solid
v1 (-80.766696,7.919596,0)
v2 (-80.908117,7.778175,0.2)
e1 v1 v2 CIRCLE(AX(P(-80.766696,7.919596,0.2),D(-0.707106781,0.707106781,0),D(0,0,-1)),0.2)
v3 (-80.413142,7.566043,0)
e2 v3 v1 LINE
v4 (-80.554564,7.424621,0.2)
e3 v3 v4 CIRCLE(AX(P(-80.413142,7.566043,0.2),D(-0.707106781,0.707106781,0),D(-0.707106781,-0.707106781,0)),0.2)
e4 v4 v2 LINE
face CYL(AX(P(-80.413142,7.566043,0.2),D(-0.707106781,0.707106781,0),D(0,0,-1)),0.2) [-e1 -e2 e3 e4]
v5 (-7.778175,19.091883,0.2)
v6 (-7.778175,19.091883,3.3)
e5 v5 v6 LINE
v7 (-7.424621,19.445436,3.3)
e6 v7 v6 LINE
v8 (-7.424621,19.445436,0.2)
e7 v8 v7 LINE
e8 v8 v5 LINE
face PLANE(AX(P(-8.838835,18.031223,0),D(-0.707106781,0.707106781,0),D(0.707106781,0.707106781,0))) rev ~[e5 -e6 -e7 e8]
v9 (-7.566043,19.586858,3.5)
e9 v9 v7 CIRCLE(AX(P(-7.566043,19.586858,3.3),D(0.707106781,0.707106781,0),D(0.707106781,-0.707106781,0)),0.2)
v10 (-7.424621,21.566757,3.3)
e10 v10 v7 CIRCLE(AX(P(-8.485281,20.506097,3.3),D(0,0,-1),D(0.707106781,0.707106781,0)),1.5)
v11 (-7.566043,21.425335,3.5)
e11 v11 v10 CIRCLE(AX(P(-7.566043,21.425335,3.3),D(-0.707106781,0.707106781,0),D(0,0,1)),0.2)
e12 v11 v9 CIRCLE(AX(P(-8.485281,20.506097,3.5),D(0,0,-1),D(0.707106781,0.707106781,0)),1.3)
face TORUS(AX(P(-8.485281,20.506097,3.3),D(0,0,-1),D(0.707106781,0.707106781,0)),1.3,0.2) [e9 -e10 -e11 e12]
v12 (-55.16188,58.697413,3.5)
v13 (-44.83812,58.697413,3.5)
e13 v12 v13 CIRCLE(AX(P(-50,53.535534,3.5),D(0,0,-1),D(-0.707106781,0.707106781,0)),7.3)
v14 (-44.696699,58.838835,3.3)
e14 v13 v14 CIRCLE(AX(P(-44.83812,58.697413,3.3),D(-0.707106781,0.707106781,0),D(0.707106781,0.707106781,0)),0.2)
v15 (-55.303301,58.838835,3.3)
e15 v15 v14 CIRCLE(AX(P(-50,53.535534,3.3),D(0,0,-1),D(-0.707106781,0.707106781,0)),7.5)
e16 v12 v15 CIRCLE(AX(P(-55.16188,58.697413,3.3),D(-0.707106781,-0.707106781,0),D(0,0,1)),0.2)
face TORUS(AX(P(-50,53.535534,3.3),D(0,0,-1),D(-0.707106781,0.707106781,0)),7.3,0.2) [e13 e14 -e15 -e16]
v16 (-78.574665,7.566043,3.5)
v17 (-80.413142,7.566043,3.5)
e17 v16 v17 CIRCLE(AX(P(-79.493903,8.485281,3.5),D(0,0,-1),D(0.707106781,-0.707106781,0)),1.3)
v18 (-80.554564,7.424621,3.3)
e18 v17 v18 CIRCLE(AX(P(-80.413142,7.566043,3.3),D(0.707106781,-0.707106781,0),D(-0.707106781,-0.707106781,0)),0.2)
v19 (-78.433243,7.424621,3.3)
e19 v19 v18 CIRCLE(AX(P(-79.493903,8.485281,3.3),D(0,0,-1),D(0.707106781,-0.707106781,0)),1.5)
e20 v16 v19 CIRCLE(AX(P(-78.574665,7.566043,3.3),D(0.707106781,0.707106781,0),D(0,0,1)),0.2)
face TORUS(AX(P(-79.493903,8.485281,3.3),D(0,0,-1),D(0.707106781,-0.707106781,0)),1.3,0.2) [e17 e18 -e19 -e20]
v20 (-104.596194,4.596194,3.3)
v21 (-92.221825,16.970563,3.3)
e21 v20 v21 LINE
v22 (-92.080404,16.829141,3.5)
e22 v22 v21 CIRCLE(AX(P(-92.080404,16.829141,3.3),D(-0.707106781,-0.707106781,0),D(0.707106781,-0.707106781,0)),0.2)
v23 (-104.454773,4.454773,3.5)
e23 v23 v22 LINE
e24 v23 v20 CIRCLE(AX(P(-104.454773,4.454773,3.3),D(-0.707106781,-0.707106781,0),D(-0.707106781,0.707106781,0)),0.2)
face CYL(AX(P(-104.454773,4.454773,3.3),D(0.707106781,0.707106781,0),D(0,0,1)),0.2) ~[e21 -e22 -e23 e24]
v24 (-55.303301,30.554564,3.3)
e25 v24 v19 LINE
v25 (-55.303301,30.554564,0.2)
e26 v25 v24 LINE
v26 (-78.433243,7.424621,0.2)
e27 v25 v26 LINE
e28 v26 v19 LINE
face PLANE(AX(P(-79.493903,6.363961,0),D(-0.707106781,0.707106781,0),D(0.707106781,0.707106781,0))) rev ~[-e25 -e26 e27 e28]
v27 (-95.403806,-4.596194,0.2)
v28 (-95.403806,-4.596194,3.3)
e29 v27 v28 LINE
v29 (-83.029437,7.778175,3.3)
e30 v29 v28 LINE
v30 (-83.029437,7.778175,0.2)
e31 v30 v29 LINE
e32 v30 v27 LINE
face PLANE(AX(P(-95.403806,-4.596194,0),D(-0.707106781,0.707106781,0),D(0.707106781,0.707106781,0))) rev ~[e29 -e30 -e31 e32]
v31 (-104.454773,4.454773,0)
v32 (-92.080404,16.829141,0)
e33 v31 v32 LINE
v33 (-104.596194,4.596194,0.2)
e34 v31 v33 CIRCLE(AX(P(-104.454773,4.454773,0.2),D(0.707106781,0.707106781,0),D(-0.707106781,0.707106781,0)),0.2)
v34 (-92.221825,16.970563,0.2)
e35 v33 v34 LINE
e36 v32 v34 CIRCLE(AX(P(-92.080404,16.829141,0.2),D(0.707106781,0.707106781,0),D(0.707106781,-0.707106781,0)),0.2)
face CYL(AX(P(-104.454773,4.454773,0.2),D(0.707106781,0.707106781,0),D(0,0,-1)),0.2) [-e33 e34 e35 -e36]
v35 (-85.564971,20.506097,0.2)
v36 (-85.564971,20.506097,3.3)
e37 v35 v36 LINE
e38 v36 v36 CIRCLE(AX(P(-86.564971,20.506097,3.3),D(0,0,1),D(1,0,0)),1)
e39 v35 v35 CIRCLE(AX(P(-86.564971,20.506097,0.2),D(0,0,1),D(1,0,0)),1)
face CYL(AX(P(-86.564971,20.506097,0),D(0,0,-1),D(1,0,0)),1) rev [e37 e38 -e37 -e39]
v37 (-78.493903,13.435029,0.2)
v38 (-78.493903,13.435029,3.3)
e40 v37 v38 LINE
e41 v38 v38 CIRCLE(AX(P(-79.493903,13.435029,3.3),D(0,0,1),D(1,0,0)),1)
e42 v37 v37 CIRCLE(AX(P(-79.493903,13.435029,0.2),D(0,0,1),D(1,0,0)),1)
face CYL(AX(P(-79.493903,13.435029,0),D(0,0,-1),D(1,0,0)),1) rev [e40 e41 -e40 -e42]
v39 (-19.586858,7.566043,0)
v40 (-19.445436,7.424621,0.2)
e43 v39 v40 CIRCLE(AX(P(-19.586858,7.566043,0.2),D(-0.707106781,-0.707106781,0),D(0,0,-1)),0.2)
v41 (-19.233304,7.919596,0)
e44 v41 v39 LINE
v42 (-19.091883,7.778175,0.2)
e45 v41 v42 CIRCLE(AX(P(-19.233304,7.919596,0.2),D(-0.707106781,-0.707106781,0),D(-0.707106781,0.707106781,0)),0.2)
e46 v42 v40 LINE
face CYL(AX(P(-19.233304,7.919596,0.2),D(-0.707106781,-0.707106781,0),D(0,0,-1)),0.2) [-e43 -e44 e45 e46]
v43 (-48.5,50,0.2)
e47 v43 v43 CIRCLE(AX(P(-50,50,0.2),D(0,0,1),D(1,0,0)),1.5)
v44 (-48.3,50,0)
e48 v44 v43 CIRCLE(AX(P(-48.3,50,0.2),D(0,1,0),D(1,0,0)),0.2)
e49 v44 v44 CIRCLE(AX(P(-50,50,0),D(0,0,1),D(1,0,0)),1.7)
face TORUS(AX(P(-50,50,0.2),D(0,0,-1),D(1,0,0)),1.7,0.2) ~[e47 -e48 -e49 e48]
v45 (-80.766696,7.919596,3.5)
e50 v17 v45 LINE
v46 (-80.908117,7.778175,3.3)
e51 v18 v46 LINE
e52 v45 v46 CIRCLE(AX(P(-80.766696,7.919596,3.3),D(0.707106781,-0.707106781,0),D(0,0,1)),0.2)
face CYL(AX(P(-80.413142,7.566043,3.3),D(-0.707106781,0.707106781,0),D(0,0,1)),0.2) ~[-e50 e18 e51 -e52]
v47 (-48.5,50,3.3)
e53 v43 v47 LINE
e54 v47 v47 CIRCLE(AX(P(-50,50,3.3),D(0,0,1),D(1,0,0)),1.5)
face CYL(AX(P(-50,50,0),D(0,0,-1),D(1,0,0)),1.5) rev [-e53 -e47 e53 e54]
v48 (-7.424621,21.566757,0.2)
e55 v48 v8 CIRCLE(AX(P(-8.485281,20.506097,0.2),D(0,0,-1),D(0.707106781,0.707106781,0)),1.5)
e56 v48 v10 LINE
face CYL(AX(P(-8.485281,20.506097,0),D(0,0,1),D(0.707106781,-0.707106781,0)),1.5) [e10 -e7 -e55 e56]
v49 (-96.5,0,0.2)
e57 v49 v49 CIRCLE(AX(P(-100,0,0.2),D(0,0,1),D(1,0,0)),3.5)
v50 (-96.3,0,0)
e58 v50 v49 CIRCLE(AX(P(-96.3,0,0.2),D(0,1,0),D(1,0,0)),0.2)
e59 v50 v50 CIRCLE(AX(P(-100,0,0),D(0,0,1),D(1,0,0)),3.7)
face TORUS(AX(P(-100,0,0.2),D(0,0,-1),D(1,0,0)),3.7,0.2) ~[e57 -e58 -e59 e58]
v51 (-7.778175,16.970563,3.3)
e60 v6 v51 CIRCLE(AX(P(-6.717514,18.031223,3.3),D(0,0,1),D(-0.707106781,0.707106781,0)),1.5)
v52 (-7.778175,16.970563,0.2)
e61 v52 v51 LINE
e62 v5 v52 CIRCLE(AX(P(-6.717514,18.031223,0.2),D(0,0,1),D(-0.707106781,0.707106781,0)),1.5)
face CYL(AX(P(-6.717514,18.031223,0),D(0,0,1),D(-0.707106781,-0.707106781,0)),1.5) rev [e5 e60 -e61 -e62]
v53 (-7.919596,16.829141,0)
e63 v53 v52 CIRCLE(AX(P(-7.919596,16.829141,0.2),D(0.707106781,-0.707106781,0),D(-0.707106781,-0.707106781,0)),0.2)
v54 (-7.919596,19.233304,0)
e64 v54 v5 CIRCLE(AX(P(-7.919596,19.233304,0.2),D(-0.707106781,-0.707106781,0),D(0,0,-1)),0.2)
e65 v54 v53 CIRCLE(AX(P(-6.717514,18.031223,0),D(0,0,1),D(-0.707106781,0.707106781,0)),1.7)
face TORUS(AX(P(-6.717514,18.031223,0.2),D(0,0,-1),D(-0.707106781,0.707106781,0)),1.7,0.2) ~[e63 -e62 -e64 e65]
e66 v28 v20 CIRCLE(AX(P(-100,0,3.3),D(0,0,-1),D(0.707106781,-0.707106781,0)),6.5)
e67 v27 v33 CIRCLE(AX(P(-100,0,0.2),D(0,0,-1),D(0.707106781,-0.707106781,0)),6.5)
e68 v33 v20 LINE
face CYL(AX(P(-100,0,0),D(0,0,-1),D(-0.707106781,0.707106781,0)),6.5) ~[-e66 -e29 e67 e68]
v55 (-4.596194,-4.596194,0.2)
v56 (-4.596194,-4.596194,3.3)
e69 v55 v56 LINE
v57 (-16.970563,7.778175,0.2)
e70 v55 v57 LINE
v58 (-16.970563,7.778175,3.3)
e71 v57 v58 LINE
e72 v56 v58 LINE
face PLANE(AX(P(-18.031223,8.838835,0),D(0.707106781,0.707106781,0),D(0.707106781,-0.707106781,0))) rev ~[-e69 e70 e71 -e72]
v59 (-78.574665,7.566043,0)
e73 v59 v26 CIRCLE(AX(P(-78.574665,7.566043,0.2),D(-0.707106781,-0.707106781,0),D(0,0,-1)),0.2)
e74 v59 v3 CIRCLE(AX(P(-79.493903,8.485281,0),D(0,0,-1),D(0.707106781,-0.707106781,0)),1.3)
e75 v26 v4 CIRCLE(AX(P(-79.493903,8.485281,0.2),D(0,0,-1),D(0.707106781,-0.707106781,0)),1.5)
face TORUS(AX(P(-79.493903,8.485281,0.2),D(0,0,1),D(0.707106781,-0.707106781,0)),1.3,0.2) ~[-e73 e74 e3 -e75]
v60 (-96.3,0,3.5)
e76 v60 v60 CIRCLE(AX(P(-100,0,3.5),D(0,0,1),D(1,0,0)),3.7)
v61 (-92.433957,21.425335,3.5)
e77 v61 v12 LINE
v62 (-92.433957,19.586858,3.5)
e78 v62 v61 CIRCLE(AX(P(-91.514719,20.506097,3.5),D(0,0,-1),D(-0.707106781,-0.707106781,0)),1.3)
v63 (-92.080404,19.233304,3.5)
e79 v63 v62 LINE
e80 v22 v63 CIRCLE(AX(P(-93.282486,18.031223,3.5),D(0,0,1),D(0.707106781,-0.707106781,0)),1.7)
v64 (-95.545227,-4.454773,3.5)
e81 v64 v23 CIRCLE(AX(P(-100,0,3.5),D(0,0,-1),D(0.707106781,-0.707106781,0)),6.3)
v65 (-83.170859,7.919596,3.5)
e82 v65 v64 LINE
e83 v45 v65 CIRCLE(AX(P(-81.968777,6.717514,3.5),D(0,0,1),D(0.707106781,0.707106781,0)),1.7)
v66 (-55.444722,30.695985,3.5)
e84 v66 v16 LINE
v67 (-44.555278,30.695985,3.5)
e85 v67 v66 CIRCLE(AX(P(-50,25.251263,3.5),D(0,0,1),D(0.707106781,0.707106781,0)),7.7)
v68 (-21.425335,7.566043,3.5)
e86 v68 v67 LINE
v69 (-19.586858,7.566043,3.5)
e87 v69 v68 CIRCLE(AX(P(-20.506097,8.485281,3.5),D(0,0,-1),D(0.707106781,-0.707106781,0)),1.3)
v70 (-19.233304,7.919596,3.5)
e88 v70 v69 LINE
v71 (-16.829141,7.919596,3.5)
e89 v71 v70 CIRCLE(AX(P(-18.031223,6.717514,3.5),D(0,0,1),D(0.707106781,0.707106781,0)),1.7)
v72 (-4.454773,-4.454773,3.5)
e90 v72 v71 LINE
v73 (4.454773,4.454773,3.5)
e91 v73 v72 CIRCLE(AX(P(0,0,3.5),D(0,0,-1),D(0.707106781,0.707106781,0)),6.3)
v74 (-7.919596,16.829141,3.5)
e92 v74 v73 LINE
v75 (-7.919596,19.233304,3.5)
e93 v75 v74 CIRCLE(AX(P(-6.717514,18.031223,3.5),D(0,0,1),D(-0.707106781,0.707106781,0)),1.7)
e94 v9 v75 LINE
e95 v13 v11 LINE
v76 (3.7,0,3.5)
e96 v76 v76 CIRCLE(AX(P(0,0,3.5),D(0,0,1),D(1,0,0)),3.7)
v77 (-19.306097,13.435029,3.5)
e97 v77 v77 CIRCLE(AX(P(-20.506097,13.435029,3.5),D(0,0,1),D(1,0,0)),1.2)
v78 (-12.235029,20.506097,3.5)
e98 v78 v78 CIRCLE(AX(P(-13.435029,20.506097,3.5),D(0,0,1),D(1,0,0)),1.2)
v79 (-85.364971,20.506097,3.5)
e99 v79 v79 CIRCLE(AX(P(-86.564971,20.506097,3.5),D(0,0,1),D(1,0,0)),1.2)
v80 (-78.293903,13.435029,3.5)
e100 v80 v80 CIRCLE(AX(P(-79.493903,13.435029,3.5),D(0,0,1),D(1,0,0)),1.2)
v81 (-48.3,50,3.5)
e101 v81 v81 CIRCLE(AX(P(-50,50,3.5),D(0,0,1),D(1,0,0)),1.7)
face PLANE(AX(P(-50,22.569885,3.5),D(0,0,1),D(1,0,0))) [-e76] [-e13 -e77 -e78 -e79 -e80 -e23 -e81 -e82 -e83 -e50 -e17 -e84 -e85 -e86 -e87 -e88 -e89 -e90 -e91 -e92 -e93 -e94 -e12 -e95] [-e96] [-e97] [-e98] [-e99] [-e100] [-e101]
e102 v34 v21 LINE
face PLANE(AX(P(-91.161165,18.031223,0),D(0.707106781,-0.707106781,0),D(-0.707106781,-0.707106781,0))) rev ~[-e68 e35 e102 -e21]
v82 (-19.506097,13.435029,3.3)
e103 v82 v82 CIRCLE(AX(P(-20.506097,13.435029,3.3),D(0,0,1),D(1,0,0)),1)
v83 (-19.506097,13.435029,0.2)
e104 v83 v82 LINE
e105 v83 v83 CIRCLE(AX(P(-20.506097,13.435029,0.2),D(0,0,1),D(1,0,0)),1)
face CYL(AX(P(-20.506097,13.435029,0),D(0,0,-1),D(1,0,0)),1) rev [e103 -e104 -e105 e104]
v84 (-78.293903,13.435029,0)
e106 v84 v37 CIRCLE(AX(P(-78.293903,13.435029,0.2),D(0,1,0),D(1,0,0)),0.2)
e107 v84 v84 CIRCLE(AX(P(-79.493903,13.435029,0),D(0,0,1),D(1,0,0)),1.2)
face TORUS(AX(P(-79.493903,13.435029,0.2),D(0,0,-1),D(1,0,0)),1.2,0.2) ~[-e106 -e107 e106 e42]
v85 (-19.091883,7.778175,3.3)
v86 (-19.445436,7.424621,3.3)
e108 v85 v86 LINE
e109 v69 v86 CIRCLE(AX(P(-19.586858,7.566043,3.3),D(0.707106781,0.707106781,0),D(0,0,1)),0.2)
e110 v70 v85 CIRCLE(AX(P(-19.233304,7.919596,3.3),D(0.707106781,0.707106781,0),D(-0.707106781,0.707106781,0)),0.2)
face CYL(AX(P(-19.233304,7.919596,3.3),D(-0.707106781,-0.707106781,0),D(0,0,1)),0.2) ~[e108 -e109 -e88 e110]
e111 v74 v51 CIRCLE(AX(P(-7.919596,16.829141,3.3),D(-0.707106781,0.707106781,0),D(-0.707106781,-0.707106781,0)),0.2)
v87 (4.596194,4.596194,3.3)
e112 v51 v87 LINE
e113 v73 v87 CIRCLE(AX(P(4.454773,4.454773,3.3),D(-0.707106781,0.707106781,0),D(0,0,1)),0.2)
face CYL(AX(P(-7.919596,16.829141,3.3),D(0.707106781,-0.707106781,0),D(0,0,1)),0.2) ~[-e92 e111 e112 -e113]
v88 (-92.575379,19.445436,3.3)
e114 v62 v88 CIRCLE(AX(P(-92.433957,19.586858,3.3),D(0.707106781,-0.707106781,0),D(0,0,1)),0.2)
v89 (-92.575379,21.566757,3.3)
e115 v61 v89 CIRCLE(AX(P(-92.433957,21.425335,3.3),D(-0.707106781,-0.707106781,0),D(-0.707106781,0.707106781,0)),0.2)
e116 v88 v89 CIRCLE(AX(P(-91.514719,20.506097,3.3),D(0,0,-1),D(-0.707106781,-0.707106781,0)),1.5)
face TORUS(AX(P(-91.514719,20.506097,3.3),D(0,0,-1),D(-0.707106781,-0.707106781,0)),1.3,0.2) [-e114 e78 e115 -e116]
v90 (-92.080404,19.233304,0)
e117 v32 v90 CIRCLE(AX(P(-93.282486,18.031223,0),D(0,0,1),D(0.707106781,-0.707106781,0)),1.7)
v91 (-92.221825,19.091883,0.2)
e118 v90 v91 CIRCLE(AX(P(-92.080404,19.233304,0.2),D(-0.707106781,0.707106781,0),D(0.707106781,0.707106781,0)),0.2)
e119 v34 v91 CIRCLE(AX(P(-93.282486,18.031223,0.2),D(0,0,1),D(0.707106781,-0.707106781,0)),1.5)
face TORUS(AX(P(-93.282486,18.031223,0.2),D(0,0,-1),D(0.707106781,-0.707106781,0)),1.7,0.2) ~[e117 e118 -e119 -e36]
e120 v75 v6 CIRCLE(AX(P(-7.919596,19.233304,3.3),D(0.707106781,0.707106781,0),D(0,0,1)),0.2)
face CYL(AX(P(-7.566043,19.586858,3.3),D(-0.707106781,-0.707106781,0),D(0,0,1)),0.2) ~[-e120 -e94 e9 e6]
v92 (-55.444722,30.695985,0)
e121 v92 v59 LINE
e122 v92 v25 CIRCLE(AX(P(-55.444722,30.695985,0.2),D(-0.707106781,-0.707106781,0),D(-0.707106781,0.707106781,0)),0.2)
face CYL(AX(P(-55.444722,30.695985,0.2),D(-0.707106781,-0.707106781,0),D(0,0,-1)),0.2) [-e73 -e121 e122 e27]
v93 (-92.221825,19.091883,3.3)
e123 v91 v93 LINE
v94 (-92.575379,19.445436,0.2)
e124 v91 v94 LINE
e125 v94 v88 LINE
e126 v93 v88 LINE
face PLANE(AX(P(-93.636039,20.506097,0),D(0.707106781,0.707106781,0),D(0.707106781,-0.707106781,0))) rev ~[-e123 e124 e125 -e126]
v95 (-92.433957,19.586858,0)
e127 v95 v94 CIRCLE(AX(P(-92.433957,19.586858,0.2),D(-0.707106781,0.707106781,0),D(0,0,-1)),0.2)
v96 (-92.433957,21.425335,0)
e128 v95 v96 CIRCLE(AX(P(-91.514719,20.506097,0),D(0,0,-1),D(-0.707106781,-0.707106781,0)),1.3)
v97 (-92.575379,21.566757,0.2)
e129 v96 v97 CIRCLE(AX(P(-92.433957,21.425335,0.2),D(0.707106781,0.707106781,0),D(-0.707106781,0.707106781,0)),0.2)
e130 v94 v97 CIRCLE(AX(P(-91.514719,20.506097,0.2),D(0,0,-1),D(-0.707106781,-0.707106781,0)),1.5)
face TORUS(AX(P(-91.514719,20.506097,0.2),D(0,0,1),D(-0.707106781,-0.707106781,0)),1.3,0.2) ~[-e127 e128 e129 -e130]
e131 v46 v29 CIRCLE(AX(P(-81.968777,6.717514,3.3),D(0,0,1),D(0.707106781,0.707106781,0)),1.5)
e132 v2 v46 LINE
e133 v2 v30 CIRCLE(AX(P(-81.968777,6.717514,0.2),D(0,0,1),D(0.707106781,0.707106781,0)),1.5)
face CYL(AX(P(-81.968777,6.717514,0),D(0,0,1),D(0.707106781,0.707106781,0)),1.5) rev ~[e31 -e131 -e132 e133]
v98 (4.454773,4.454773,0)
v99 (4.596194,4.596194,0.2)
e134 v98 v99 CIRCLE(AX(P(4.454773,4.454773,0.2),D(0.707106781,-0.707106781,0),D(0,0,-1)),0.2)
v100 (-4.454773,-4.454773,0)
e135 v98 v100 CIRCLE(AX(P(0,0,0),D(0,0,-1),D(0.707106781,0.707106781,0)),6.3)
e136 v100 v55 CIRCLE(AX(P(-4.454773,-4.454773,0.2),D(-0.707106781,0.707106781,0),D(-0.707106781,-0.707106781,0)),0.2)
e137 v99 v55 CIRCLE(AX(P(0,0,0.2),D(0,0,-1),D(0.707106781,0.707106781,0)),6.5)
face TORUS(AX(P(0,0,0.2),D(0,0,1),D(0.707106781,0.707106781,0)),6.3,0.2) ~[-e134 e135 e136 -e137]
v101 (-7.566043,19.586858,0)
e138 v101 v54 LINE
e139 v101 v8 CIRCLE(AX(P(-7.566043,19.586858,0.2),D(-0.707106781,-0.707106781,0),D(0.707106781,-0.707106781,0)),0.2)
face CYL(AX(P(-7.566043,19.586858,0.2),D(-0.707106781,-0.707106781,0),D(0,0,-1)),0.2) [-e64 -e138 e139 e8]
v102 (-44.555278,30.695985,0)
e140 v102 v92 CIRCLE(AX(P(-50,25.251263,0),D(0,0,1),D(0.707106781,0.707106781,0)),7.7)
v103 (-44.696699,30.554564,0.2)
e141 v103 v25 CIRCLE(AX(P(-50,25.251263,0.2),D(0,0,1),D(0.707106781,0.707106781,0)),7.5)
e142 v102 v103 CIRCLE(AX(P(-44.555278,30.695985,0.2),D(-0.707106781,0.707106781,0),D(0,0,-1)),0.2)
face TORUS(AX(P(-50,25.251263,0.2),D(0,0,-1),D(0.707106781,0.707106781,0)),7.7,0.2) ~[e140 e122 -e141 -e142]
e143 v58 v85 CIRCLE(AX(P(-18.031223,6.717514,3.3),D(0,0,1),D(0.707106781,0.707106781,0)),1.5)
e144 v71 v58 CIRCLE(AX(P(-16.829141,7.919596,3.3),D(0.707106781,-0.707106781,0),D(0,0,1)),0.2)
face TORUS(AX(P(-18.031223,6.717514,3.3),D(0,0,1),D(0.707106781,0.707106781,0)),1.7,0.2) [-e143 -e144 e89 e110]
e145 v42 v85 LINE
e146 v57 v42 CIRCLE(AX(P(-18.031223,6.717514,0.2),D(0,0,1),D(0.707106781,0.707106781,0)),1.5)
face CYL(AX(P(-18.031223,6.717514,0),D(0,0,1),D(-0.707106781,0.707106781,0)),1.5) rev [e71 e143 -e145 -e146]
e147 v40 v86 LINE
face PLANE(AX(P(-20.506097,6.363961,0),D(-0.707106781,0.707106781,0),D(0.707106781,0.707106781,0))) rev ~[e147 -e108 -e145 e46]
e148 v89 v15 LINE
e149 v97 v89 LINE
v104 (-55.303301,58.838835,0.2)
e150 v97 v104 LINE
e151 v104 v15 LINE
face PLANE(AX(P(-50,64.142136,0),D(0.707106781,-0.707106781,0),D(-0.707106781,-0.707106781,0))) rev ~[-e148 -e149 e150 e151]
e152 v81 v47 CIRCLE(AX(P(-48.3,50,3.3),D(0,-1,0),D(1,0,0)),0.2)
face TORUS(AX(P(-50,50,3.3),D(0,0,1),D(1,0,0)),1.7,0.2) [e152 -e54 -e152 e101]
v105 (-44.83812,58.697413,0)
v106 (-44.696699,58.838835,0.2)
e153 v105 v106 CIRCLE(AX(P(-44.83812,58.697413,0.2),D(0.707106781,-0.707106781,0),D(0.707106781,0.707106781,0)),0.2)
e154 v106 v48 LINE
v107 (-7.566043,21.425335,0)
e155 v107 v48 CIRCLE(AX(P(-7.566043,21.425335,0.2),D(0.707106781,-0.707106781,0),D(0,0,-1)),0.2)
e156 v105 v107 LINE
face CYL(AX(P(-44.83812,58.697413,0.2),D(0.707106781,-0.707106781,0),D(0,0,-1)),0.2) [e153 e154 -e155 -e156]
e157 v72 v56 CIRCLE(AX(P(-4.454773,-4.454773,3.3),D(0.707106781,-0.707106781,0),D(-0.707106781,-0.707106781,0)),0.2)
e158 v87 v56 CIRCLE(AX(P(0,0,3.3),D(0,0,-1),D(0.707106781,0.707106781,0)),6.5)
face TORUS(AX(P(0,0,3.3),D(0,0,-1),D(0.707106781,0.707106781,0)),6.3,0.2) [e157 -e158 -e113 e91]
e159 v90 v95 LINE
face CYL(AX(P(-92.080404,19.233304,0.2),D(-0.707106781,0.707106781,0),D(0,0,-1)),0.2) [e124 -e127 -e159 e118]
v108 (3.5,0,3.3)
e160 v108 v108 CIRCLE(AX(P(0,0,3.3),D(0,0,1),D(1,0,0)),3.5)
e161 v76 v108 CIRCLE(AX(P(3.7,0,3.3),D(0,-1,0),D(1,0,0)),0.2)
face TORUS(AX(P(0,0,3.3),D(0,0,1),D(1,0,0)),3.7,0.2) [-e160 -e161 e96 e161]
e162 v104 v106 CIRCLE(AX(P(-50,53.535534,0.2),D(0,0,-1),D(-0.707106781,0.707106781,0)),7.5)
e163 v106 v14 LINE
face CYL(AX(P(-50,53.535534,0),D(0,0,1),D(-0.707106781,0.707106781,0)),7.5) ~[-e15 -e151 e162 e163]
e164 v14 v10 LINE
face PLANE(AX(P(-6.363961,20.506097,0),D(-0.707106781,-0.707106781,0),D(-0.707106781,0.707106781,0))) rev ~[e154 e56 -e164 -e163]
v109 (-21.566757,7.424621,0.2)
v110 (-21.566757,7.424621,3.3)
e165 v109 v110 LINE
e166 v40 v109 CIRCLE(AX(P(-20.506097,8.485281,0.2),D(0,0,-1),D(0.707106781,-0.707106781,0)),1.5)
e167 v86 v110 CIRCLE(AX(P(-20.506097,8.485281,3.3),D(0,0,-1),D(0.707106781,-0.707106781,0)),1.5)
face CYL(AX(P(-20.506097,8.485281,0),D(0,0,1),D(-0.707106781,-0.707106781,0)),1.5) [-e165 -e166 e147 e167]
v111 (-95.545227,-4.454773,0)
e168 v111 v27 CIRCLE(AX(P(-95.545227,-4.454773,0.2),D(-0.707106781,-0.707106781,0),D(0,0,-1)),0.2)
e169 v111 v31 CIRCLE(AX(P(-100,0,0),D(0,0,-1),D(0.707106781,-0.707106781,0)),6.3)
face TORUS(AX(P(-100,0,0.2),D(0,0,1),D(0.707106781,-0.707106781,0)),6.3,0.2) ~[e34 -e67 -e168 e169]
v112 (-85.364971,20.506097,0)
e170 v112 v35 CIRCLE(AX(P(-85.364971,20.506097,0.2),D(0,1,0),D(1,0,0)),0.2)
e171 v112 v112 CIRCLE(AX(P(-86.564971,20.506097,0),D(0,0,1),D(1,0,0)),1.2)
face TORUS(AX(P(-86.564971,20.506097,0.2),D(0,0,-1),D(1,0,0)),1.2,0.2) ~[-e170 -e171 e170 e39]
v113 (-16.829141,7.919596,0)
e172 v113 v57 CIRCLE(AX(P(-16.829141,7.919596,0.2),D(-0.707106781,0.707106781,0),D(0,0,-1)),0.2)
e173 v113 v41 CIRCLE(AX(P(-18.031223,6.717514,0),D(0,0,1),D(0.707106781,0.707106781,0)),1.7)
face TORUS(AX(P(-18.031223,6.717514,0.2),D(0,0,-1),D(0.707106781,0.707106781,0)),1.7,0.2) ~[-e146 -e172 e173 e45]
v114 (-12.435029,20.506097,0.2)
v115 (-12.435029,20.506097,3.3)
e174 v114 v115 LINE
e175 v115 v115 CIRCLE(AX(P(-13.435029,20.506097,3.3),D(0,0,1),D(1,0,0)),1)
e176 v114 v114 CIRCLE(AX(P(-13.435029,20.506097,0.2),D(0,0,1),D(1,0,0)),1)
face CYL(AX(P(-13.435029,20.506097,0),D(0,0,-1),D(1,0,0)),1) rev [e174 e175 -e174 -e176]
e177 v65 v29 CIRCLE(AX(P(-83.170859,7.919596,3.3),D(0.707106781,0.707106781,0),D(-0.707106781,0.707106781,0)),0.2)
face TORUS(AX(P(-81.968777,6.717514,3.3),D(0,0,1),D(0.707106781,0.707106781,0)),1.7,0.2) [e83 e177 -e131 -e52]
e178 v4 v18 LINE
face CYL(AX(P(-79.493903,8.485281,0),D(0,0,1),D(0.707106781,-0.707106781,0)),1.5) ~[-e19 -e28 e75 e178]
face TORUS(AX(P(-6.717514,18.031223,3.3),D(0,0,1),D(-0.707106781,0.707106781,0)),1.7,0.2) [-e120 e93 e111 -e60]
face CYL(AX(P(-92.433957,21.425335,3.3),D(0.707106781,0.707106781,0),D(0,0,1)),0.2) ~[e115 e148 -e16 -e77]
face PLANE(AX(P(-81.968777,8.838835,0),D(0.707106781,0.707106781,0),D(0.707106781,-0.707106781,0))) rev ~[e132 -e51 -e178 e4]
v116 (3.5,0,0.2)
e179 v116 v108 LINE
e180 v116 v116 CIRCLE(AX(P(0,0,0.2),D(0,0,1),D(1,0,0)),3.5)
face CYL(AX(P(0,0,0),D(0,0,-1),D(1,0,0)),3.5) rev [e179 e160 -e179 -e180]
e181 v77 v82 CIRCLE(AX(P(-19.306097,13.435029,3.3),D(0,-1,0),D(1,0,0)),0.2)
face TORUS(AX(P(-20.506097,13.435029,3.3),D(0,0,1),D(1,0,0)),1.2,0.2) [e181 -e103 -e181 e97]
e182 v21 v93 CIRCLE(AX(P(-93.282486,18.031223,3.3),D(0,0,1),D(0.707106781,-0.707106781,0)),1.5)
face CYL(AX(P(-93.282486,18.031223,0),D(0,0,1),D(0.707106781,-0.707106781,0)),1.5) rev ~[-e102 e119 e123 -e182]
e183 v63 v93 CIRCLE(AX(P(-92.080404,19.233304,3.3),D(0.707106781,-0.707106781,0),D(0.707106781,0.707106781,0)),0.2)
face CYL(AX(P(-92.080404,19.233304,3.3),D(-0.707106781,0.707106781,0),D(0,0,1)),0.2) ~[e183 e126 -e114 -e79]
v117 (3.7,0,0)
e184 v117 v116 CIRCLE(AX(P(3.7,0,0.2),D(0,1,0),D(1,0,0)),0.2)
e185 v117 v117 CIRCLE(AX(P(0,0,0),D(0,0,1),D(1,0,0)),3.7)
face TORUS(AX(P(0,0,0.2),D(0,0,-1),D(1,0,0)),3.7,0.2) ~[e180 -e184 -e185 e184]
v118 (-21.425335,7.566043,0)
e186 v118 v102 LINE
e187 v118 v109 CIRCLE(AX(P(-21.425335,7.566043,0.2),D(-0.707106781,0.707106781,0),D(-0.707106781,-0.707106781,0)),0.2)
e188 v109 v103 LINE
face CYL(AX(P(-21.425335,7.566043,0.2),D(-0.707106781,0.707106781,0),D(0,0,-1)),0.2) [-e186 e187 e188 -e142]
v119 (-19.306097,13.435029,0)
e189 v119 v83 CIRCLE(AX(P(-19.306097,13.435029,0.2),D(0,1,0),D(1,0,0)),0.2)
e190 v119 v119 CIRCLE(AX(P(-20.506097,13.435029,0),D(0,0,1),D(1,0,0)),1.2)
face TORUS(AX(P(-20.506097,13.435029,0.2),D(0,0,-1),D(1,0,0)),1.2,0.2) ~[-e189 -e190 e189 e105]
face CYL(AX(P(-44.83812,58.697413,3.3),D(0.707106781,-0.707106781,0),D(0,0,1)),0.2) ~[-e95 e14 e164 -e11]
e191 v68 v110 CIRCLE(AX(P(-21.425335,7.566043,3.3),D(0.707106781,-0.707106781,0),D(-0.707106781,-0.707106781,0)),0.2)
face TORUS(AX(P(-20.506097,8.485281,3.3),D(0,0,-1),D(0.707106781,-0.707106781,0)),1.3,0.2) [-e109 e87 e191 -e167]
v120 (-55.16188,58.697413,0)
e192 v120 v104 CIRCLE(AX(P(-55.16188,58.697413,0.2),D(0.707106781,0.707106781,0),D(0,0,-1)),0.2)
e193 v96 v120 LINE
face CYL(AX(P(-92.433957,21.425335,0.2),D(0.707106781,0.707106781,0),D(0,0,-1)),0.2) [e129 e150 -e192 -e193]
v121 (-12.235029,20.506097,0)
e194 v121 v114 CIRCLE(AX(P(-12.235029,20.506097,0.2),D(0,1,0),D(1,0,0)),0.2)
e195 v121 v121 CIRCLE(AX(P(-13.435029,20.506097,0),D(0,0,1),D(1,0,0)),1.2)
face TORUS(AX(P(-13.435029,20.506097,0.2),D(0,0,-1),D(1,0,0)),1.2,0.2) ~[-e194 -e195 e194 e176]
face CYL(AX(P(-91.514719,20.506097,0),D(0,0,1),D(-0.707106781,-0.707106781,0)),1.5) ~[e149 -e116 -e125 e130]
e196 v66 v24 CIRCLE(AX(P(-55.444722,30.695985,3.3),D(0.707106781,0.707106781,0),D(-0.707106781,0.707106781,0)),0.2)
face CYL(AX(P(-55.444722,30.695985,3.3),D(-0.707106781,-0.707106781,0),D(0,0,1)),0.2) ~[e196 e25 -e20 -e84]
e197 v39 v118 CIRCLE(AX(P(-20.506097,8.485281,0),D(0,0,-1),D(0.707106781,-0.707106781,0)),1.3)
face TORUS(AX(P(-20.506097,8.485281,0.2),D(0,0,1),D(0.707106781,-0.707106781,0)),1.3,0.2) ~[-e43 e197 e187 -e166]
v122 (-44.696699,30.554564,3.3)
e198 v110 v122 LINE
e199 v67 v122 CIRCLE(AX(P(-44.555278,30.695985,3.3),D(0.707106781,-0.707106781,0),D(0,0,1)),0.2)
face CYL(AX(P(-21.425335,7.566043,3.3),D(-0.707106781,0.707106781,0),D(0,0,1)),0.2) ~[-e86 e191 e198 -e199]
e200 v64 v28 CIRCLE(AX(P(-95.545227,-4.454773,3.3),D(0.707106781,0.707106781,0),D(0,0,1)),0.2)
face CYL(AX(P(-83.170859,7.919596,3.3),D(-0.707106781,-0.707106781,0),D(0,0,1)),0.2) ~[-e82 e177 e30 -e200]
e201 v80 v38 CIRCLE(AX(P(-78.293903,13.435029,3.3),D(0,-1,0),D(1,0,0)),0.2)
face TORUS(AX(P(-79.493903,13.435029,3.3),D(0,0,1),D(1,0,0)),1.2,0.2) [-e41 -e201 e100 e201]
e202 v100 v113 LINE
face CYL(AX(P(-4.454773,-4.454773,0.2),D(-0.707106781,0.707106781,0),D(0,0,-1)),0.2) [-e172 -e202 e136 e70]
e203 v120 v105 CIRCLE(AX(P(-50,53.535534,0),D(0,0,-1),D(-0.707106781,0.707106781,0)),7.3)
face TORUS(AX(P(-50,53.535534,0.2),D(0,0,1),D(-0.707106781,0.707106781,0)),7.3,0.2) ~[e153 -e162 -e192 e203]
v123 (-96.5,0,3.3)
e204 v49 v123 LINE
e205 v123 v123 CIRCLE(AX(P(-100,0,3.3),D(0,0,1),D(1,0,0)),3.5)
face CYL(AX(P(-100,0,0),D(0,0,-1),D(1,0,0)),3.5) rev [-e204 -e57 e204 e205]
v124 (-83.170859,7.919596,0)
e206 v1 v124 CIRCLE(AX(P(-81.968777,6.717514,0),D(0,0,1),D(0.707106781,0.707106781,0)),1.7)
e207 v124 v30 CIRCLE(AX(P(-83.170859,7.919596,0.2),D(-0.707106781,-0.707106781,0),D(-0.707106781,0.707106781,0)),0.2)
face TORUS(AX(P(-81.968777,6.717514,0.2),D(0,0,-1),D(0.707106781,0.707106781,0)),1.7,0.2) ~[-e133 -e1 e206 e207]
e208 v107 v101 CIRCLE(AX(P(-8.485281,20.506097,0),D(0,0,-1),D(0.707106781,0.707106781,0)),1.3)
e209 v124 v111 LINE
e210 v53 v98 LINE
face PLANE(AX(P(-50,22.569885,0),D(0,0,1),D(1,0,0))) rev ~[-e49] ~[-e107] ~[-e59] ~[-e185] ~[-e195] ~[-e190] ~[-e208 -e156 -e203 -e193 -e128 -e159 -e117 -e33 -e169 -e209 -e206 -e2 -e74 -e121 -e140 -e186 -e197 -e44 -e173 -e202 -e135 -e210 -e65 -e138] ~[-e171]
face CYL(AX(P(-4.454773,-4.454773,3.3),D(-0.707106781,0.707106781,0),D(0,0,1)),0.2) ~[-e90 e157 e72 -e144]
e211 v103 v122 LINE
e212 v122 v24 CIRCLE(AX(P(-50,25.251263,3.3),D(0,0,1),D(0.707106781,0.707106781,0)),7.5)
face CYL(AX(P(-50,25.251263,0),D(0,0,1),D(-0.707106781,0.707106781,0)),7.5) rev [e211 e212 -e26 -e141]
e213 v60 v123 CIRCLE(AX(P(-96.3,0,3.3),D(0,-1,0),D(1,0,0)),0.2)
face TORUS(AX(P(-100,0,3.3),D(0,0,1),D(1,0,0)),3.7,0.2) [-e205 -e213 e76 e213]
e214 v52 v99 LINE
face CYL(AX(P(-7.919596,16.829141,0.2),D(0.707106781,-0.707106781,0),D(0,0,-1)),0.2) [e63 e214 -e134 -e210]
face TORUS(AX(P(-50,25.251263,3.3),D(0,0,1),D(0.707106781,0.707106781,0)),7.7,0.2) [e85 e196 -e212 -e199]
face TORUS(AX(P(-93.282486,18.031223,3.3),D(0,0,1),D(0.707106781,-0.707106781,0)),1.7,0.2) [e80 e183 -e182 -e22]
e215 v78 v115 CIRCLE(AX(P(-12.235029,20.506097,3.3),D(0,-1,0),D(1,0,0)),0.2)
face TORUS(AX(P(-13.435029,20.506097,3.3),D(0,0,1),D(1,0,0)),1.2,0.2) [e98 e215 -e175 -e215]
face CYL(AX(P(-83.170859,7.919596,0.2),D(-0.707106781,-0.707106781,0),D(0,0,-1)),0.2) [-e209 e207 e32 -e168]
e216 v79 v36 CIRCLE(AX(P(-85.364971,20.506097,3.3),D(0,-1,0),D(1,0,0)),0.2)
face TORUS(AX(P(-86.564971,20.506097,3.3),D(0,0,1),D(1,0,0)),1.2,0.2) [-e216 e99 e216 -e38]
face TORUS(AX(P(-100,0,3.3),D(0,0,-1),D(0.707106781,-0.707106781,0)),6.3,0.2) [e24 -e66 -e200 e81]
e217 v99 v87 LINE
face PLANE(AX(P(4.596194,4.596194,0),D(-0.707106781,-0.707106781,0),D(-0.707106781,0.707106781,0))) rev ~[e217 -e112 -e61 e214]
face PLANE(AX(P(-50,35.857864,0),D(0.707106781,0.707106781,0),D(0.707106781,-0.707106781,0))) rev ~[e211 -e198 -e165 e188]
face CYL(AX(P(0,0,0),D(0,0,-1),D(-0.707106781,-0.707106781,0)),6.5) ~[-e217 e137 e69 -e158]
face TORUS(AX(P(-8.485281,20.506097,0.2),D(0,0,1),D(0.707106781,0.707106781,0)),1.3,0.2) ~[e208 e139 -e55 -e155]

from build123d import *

# Parameters (mm, degrees)
SKETCH3_R           = 3.5
SKETCH3_R_2         = 1
SKETCH3_R_3         = 1.5
BOSS_EXTRUDE1_DEPTH = 3.5
FILLET1_R           = 7.5
FILLET2_R           = 1.5
FILLET3_R           = 0.2


with BuildPart() as part:
    # Sketch3 → Boss-Extrude1 (new body)
    with BuildSketch(Plane.XY):
        with BuildLine():
            Line((-79.493903346, 6.363961031), (-50, 35.857864376))
            Line((-50, 35.857864376), (-20.506096654, 6.363961031))
            Line((-20.506096654, 6.363961031), (-18.03122292, 8.838834765))
            Line((-18.03122292, 8.838834765), (-4.596194078, -4.596194078))
            ThreePointArc((-4.596194078, -4.596194078), (4.596194078, -4.596194078), (4.596194078, 4.596194078))
            Line((4.596194078, 4.596194078), (-8.838834765, 18.03122292))
            Line((-8.838834765, 18.03122292), (-6.363961031, 20.506096654))
            Line((-6.363961031, 20.506096654), (-50, 64.142135624))
            Line((-50, 64.142135624), (-93.636038969, 20.506096654))
            Line((-93.636038969, 20.506096654), (-91.161165235, 18.03122292))
            Line((-91.161165235, 18.03122292), (-104.596194078, 4.596194078))
            ThreePointArc((-104.596194078, 4.596194078), (-104.596194078, -4.596194078), (-95.403805922, -4.596194078))
            Line((-95.403805922, -4.596194078), (-81.96877708, 8.838834765))
            Line((-81.96877708, 8.838834765), (-79.493903346, 6.363961031))
        make_face()
        with Locations((-100, 0)):
            Circle(SKETCH3_R, mode=Mode.SUBTRACT)
        Circle(SKETCH3_R, mode=Mode.SUBTRACT)
        with Locations((-86.564971157, 20.506096654)):
            Circle(SKETCH3_R_2, mode=Mode.SUBTRACT)
        with Locations((-79.493903346, 13.435028843)):
            Circle(SKETCH3_R_2, mode=Mode.SUBTRACT)
        with Locations((-13.435028843, 20.506096654)):
            Circle(SKETCH3_R_2, mode=Mode.SUBTRACT)
        with Locations((-20.506096654, 13.435028843)):
            Circle(SKETCH3_R_2, mode=Mode.SUBTRACT)
        with Locations((-50, 50)):
            Circle(SKETCH3_R_3, mode=Mode.SUBTRACT)
    extrude(amount=BOSS_EXTRUDE1_DEPTH)

    # Fillet1
    fillet1_edges = [part.edges().sort_by_distance(p)[0] for p in [
        (-50, 64.142135624, 1.75),
        (-50, 35.857864376, 1.75),
    ]]
    fillet(fillet1_edges, radius=FILLET1_R)

    # Fillet2
    fillet2_edges = [part.edges().sort_by_distance(p)[0] for p in [
        (-81.96877708, 8.838834765, 1.75),
        (-91.161165235, 18.03122292, 1.75),
        (-93.636038969, 20.506096654, 1.75),
        (-6.363961031, 20.506096654, 1.75),
        (-8.838834765, 18.03122292, 1.75),
        (-18.03122292, 8.838834765, 1.75),
        (-20.506096654, 6.363961031, 1.75),
        (-79.493903346, 6.363961031, 1.75),
    ]]
    fillet(fillet2_edges, radius=FILLET2_R)

    # Fillet3
    fillet3_edges = [part.edges().sort_by_distance(p)[0] for p in [
        (-91.782485579, 18.03122292, 0),
        (-91.782485579, 18.03122292, 3.5),
        (-81.96877708, 8.217514421, 0),
        (-81.96877708, 8.217514421, 3.5),
        (-18.03122292, 8.217514421, 0),
        (-18.03122292, 8.217514421, 3.5),
        (-8.217514421, 18.03122292, 0),
        (-8.217514421, 18.03122292, 3.5),
        (-89.216621587, 1.590990258, 0),
        (-104.596194078, -4.596194078, 0),
        (-1.590990258, 10.783378413, 0),
        (4.596194078, -4.596194078, 0),
        (4.596194078, -4.596194078, 3.5),
        (-1.590990258, 10.783378413, 3.5),
        (-103.5, 0, 0),
        (-103.5, 0, 3.5),
        (-3.5, 0, 0),
        (-3.5, 0, 3.5),
        (-87.564971157, 20.506096654, 0),
        (-87.564971157, 20.506096654, 3.5),
        (-80.493903346, 13.435028843, 0),
        (-80.493903346, 13.435028843, 3.5),
        (-14.435028843, 20.506096654, 0),
        (-14.435028843, 20.506096654, 3.5),
        (-104.596194078, -4.596194078, 3.5),
        (-21.506096654, 13.435028843, 0),
        (-21.506096654, 13.435028843, 3.5),
        (-89.216621587, 1.590990258, 3.5),
        (-51.5, 50, 0),
        (-51.5, 50, 3.5),
        (-33.131727984, 18.98959236, 0),
        (-33.131727984, 18.98959236, 3.5),
        (-73.939339828, 40.202795796, 0),
        (-73.939339828, 40.202795796, 3.5),
        (-50, 61.035533906, 0),
        (-50, 61.035533906, 3.5),
        (-50, 32.751262658, 0),
        (-50, 32.751262658, 3.5),
        (-98.409009742, 10.783378413, 0),
        (-98.409009742, 10.783378413, 3.5),
        (-92.398602102, 19.268659787, 0),
        (-92.398602102, 19.268659787, 3.5),
        (-26.060660172, 40.202795796, 0),
        (-7.601397898, 19.268659787, 0),
        (-10.783378413, 1.590990258, 0),
        (-19.268659787, 7.601397898, 0),
        (-66.868272016, 18.98959236, 0),
        (-80.731340213, 7.601397898, 0),
        (-6.985281374, 20.506096654, 0),
        (-20.506096654, 6.985281374, 0),
        (-79.493903346, 6.985281374, 0),
        (-93.014718626, 20.506096654, 0),
        (-26.060660172, 40.202795796, 3.5),
        (-80.731340213, 7.601397898, 3.5),
        (-66.868272016, 18.98959236, 3.5),
        (-19.268659787, 7.601397898, 3.5),
        (-10.783378413, 1.590990258, 3.5),
        (-7.601397898, 19.268659787, 3.5),
        (-6.985281374, 20.506096654, 3.5),
        (-20.506096654, 6.985281374, 3.5),
        (-79.493903346, 6.985281374, 3.5),
        (-93.014718626, 20.506096654, 3.5),
    ]]
    fillet(fillet3_edges, radius=FILLET3_R)


solid = part.part
